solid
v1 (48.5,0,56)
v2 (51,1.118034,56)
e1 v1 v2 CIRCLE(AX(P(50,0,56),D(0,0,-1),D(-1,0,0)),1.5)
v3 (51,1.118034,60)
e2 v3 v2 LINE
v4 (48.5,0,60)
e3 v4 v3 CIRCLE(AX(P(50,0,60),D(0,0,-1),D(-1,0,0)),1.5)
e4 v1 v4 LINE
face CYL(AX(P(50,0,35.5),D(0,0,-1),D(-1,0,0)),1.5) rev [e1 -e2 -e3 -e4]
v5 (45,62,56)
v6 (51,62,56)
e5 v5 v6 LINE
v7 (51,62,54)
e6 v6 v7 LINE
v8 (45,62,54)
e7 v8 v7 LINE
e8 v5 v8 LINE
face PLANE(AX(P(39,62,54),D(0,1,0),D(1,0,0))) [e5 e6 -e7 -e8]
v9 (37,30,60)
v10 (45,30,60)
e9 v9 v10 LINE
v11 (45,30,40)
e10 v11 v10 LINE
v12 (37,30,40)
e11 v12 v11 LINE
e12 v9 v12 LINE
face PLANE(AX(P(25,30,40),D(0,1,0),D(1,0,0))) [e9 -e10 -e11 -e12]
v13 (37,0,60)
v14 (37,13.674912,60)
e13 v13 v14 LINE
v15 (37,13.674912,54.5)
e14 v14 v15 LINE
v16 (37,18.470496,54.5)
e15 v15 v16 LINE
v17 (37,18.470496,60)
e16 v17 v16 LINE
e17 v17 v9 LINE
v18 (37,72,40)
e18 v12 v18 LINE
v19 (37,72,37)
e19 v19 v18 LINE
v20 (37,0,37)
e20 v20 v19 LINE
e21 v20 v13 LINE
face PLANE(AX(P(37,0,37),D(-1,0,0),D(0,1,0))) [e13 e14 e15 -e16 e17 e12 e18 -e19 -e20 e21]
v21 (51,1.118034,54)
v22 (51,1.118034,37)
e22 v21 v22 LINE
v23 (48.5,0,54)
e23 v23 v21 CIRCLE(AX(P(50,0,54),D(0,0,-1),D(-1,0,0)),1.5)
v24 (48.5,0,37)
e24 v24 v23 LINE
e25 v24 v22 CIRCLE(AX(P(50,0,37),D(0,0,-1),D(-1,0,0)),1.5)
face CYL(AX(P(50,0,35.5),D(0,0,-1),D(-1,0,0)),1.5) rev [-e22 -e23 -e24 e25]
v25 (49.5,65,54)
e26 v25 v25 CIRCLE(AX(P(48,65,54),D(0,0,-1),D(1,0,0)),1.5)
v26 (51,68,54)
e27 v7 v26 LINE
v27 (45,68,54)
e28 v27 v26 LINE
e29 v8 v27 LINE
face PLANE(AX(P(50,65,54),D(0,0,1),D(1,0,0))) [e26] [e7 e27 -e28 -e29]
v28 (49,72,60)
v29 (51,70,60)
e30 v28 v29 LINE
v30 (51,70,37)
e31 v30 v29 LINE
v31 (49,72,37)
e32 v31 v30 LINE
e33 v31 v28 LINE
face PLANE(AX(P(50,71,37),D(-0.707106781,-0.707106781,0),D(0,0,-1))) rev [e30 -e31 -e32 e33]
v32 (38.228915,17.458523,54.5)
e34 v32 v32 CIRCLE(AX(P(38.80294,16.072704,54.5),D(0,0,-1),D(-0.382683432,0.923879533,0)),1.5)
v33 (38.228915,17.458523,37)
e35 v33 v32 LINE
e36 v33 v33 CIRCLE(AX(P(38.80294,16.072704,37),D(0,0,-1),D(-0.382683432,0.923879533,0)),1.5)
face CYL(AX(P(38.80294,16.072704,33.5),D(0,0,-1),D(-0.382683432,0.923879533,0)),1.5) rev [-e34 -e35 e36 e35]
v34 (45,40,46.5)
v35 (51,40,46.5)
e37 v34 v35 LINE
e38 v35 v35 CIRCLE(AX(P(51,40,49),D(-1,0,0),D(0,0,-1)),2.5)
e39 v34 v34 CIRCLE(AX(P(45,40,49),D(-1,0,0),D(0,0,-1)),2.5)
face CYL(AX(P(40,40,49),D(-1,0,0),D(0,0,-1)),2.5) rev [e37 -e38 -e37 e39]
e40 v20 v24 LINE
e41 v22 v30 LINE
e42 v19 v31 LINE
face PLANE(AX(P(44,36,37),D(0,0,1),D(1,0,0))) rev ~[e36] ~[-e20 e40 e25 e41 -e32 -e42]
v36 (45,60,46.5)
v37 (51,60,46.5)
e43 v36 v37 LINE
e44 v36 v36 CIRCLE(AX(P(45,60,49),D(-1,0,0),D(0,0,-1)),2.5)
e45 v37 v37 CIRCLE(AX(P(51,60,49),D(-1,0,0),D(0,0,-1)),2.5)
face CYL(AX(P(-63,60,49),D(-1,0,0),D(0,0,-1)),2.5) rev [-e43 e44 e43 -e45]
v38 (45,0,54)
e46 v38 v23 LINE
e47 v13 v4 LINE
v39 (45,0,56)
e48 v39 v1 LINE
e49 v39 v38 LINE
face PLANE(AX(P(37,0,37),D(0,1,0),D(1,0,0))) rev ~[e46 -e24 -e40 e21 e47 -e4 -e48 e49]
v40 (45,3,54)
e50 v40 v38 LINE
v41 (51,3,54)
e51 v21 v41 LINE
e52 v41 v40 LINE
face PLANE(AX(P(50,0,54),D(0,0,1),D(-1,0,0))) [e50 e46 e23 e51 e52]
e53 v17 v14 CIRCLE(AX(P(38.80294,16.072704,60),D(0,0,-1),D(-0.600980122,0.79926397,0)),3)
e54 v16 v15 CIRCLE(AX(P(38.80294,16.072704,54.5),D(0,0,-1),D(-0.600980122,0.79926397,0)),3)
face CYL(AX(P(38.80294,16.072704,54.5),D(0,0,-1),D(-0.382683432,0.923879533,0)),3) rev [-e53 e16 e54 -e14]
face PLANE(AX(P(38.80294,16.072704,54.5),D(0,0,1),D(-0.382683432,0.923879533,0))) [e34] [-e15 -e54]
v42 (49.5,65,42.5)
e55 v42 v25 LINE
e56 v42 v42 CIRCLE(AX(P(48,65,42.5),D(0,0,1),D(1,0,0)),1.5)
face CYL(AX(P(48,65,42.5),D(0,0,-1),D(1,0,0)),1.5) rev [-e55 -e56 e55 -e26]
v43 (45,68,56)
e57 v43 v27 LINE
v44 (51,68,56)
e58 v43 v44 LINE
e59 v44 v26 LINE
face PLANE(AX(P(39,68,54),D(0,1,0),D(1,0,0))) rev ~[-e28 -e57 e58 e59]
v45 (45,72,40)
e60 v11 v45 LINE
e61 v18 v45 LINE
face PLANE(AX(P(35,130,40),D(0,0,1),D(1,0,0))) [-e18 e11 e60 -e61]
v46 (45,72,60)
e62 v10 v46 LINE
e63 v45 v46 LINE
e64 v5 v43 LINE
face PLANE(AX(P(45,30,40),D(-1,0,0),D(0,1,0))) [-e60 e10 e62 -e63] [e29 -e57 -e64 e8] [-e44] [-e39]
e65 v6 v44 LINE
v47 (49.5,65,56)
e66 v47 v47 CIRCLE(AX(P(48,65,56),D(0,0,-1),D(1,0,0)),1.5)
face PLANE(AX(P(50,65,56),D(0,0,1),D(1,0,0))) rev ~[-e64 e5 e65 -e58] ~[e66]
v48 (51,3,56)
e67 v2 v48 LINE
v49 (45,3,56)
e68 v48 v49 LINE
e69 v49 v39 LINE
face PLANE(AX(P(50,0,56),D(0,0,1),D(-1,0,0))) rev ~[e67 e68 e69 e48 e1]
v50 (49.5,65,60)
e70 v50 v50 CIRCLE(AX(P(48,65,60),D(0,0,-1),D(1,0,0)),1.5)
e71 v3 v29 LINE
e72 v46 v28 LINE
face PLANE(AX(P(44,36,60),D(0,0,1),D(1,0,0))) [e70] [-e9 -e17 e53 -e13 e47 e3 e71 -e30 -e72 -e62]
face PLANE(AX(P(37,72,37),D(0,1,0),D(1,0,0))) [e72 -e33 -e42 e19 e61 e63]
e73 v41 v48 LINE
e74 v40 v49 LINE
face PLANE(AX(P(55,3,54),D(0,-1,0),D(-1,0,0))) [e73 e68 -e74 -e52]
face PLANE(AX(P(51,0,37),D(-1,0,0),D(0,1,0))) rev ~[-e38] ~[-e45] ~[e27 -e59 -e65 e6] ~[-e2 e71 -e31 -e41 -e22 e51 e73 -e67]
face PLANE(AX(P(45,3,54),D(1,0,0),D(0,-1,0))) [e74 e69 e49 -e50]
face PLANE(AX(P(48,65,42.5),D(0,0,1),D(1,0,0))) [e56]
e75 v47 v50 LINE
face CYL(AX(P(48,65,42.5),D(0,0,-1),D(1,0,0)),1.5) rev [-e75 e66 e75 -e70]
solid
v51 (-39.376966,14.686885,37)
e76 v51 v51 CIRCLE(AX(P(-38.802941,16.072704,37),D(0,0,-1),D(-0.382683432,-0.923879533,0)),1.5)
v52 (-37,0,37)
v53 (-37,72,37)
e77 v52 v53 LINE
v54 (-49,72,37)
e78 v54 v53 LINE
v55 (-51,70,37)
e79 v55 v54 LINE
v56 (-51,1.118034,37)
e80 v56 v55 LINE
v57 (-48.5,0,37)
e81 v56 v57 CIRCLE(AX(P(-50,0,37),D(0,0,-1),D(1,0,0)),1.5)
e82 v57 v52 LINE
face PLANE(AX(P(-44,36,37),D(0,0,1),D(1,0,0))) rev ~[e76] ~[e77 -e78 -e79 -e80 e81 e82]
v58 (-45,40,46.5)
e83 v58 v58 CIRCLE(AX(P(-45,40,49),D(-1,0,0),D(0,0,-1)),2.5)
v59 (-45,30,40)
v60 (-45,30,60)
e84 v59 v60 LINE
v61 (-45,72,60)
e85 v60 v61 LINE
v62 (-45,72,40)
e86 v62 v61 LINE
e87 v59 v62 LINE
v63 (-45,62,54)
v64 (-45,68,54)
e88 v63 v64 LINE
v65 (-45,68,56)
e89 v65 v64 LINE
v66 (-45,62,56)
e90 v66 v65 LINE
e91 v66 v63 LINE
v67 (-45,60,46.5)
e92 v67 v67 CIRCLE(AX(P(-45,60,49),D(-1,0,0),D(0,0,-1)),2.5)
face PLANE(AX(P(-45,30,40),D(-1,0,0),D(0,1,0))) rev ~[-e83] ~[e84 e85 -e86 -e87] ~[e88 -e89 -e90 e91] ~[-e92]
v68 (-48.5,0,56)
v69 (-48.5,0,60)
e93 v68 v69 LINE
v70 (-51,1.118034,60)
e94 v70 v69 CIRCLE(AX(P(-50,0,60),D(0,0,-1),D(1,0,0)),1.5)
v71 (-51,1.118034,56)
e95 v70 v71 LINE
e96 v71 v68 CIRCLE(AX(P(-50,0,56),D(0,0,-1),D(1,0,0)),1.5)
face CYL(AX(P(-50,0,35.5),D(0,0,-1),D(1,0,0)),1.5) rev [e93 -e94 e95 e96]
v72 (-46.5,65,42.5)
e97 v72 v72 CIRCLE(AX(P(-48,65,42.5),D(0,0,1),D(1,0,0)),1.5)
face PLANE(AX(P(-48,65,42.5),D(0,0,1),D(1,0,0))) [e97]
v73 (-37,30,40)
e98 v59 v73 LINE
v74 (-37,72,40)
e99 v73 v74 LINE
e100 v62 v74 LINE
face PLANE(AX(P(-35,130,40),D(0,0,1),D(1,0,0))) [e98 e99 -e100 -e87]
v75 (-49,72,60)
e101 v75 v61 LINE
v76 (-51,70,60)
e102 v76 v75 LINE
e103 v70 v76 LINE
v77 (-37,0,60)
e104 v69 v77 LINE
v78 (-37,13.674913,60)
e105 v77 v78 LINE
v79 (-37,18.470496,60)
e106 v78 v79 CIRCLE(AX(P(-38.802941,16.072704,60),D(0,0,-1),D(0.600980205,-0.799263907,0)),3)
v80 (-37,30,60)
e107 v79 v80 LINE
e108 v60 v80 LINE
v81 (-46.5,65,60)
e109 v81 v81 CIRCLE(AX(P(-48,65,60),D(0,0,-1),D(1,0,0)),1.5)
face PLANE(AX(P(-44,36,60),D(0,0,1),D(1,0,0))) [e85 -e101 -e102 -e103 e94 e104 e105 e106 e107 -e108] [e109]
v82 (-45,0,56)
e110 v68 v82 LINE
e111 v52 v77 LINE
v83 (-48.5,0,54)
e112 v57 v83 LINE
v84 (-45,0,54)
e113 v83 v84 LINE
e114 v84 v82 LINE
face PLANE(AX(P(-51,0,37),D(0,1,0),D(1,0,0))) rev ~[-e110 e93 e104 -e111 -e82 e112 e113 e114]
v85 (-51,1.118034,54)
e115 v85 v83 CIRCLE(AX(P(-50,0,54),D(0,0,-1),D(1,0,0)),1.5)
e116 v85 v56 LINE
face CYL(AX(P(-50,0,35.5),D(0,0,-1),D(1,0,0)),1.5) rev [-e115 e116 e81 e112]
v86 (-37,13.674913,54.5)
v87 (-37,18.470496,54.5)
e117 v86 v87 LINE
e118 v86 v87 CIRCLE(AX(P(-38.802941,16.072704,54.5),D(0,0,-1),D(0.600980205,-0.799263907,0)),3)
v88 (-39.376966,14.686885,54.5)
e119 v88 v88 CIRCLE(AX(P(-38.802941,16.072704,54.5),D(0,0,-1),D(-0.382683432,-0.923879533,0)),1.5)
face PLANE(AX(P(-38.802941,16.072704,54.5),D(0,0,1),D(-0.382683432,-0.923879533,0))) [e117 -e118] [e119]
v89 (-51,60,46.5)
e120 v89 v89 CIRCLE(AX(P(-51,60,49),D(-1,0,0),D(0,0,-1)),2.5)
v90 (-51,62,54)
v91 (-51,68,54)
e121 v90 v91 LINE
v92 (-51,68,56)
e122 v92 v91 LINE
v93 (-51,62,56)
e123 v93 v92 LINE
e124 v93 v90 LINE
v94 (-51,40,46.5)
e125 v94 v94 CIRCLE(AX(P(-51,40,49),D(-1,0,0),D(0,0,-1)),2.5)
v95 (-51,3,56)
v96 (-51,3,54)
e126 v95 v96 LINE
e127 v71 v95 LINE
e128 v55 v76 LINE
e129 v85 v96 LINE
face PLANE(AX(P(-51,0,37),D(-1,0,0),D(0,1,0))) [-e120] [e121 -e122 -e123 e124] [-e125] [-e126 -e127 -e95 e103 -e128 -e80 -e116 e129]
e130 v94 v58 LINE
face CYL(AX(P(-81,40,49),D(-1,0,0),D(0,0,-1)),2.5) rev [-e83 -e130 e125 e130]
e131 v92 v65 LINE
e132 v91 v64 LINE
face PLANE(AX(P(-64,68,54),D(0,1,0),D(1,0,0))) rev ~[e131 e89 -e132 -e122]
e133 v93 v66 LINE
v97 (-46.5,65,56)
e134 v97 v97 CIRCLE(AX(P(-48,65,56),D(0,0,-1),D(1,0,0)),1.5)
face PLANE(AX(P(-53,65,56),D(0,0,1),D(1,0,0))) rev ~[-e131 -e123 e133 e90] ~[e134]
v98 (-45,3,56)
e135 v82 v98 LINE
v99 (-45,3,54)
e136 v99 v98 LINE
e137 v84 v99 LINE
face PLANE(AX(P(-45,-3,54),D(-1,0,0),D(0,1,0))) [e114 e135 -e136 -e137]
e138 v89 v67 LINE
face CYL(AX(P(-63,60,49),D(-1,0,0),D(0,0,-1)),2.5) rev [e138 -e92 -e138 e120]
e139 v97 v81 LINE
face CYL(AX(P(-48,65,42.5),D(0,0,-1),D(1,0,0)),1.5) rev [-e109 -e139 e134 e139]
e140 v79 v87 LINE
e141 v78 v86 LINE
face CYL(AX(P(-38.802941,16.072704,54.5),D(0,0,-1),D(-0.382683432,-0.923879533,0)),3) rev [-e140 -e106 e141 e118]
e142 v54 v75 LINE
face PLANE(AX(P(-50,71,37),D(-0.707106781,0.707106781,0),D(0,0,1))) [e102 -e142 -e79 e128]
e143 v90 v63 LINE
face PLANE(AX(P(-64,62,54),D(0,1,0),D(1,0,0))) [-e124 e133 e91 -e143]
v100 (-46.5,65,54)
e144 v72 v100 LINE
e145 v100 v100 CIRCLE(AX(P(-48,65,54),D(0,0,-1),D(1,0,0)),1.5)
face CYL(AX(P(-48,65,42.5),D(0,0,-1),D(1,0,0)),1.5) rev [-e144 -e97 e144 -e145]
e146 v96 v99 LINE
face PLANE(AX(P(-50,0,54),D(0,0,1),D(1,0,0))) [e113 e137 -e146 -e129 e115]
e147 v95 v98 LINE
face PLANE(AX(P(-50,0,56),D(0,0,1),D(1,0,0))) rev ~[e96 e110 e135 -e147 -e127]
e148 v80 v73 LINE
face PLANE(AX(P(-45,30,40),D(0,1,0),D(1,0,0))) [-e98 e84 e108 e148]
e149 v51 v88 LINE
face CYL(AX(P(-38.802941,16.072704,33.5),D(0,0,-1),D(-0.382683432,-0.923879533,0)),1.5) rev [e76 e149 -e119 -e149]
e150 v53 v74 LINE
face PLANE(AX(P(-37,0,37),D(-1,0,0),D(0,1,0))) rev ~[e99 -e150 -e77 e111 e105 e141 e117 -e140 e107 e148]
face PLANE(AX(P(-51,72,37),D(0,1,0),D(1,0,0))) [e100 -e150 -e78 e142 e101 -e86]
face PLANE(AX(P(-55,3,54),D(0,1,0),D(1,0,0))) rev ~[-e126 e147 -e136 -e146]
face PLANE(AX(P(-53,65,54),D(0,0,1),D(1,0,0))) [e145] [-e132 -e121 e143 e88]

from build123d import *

# Parameters (mm, degrees)
BOX456_W                    = 10
BOX456_H                    = 6
BOX456_DEPTH                = 2
BOX455_W                    = 10
BOX455_H                    = 6
BOX455_DEPTH                = 2
BOX453_W                    = 10
BOX453_H                    = 6
BOX453_DEPTH                = 2
BOX454_W                    = 10
BOX454_H                    = 6
BOX454_DEPTH                = 2
CYLINDER958_R               = 1.5
CYLINDER958_DEPTH           = 30
CYLINDER955_R               = 1.5
CYLINDER955_DEPTH           = 30
CYLINDER957_R               = 1.5
CYLINDER957_DEPTH           = 30
CYLINDER956_R               = 1.5
CYLINDER956_DEPTH           = 30
CYLINDER911_R               = 1.5
CYLINDER911_DEPTH           = 40
CYLINDER911_PLACEMENT_ANGLE = 45
CYLINDER912_R               = 1.5
CYLINDER912_DEPTH           = 40
CYLINDER913_R               = 1.5
CYLINDER913_DEPTH           = 40
CYLINDER913_PLACEMENT_ANGLE = 135
CYLINDER908_R               = 1.5
CYLINDER908_DEPTH           = 40
CYLINDER914_R               = 1.5
CYLINDER914_DEPTH           = 40
CYLINDER914_PLACEMENT_ANGLE = 225
CYLINDER910_R               = 1.5
CYLINDER910_DEPTH           = 40
CYLINDER909_R               = 1.5
CYLINDER909_DEPTH           = 40
CYLINDER909_PLACEMENT_ANGLE = 45
CYLINDER907_R               = 1.5
CYLINDER907_DEPTH           = 40
COMPOUND797_PLACEMENT_ANGLE = 22.5
CYLINDER919_R               = 3
CYLINDER919_DEPTH           = 6
CYLINDER919_PLACEMENT_ANGLE = 45
CYLINDER920_R               = 3
CYLINDER920_DEPTH           = 6
CYLINDER921_R               = 3
CYLINDER921_DEPTH           = 6
CYLINDER921_PLACEMENT_ANGLE = 135
CYLINDER916_R               = 3
CYLINDER916_DEPTH           = 6
CYLINDER922_R               = 3
CYLINDER922_DEPTH           = 6
CYLINDER922_PLACEMENT_ANGLE = 225
CYLINDER918_R               = 3
CYLINDER918_DEPTH           = 6
CYLINDER917_R               = 3
CYLINDER917_DEPTH           = 6
CYLINDER917_PLACEMENT_ANGLE = 45
CYLINDER915_R               = 3
CYLINDER915_DEPTH           = 6
COMPOUND796_PLACEMENT_ANGLE = 22.5
BOX450_W                    = 22
BOX450_H                    = 6
BOX450_DEPTH                = 2
BOX449_W                    = 22
BOX449_H                    = 6
BOX449_DEPTH                = 2
BOX443_W                    = 20
BOX443_H                    = 200
BOX443_DEPTH                = 20
BOX444_W                    = 20
BOX444_H                    = 200
BOX444_DEPTH                = 20
CYLINDER949_R               = 1.5
CYLINDER949_DEPTH           = 30
CYLINDER948_R               = 1.5
CYLINDER948_DEPTH           = 30
CYLINDER951_R               = 2.5
CYLINDER951_DEPTH           = 40
CYLINDER952_R               = 2.5
CYLINDER952_DEPTH           = 30
CYLINDER950_R               = 2.5
CYLINDER950_DEPTH           = 160
BOX442_W                    = 14
BOX442_H                    = 72
BOX442_DEPTH                = 23
BOX441_W                    = 14
BOX441_H                    = 72
BOX441_DEPTH                = 23
CHAMFER024_SIZE             = 2


with BuildPart() as krychle456:
    # Box456 → Box456 (new body)
    with BuildSketch(Plane(origin=(55, 3, 54), x_dir=(-1, 0, 0), z_dir=(0, 0, 1))):
        with Locations((5, 3)):
            Rectangle(BOX456_W, BOX456_H)
    extrude(amount=BOX456_DEPTH)


with BuildPart() as krychle455:
    # Box455 → Box455 (new body)
    with BuildSketch(Plane(origin=(3, -55, 54), x_dir=(0, 1, 0), z_dir=(0, 0, 1))):
        with Locations((5, 3)):
            Rectangle(BOX455_W, BOX455_H)
    extrude(amount=BOX455_DEPTH)


with BuildPart() as krychle453:
    # Box453 → Box453 (new body)
    with BuildSketch(Plane(origin=(-55, -3, 54), x_dir=(1, 0, 0), z_dir=(0, 0, 1))):
        with Locations((5, 3)):
            Rectangle(BOX453_W, BOX453_H)
    extrude(amount=BOX453_DEPTH)


with BuildPart() as compound813:
    # Box454 → Box454 (new body)
    with BuildSketch(Plane(origin=(-3, 55, 54), x_dir=(0, -1, 0), z_dir=(0, 0, 1))):
        with Locations((5, 3)):
            Rectangle(BOX454_W, BOX454_H)
    extrude(amount=BOX454_DEPTH)

    # Compound813: union Krychle456, Krychle455, Krychle453
    add(krychle456.part)
    add(krychle455.part)
    add(krychle453.part)


with BuildPart() as v_lec958:
    # Cylinder958 → Cylinder958 (new body)
    with BuildSketch(Plane(origin=(50, 0, 35.5), x_dir=(-1, 0, 0), z_dir=(0, 0, 1))):
        Circle(CYLINDER958_R)
    extrude(amount=CYLINDER958_DEPTH)


with BuildPart() as v_lec955:
    # Cylinder955 → Cylinder955 (new body)
    with BuildSketch(Plane(origin=(0, -50, 35.5), x_dir=(0, 1, 0), z_dir=(0, 0, 1))):
        Circle(CYLINDER955_R)
    extrude(amount=CYLINDER955_DEPTH)


with BuildPart() as v_lec957:
    # Cylinder957 → Cylinder957 (new body)
    with BuildSketch(Plane(origin=(-50, 0, 35.5), x_dir=(1, 0, 0), z_dir=(0, 0, 1))):
        Circle(CYLINDER957_R)
    extrude(amount=CYLINDER957_DEPTH)


with BuildPart() as compound812:
    # Cylinder956 → Cylinder956 (new body)
    with BuildSketch(Plane(origin=(0, 50, 35.5), x_dir=(0, -1, 0), z_dir=(0, 0, 1))):
        Circle(CYLINDER956_R)
    extrude(amount=CYLINDER956_DEPTH)

    # Compound812: union Válec958, Válec955, Válec957
    add(v_lec958.part)
    add(v_lec955.part)
    add(v_lec957.part)


with BuildPart() as v_lec911:
    # Cylinder911 → Cylinder911 (new body)
    with BuildSketch(Plane.XY):
        Circle(CYLINDER911_R)
    extrude(amount=CYLINDER911_DEPTH)


with BuildPart() as v_lec911_1:
    # Cylinder911 placement: moved
    add(v_lec911.part.moved(Location((29.698485, -29.698485, 33.5))).rotate(Axis((29.698485, -29.698485, 33.5), (0, 0, 1)), CYLINDER911_PLACEMENT_ANGLE))


with BuildPart() as v_lec912:
    # Cylinder912 → Cylinder912 (new body)
    with BuildSketch(Plane(origin=(42, 0, 33.5), x_dir=(0, 1, 0), z_dir=(0, 0, 1))):
        Circle(CYLINDER912_R)
    extrude(amount=CYLINDER912_DEPTH)


with BuildPart() as v_lec913:
    # Cylinder913 → Cylinder913 (new body)
    with BuildSketch(Plane.XY):
        Circle(CYLINDER913_R)
    extrude(amount=CYLINDER913_DEPTH)


with BuildPart() as v_lec913_1:
    # Cylinder913 placement: moved
    add(v_lec913.part.moved(Location((29.698485, 29.698485, 33.5))).rotate(Axis((29.698485, 29.698485, 33.5), (0, 0, 1)), CYLINDER913_PLACEMENT_ANGLE))


with BuildPart() as v_lec908:
    # Cylinder908 → Cylinder908 (new body)
    with BuildSketch(Plane(origin=(0, 42, 33.5), x_dir=(-1, 0, 0), z_dir=(0, 0, 1))):
        Circle(CYLINDER908_R)
    extrude(amount=CYLINDER908_DEPTH)


with BuildPart() as v_lec914:
    # Cylinder914 → Cylinder914 (new body)
    with BuildSketch(Plane.XY):
        Circle(CYLINDER914_R)
    extrude(amount=CYLINDER914_DEPTH)


with BuildPart() as v_lec914_1:
    # Cylinder914 placement: moved
    add(v_lec914.part.moved(Location((-29.698485, 29.698485, 33.5))).rotate(Axis((-29.698485, 29.698485, 33.5), (0, 0, 1)), CYLINDER914_PLACEMENT_ANGLE))


with BuildPart() as v_lec910:
    # Cylinder910 → Cylinder910 (new body)
    with BuildSketch(Plane(origin=(-42, 0, 33.5), x_dir=(0, -1, 0), z_dir=(0, 0, 1))):
        Circle(CYLINDER910_R)
    extrude(amount=CYLINDER910_DEPTH)


with BuildPart() as v_lec909:
    # Cylinder909 → Cylinder909 (new body)
    with BuildSketch(Plane.XY):
        Circle(CYLINDER909_R)
    extrude(amount=CYLINDER909_DEPTH)


with BuildPart() as v_lec909_1:
    # Cylinder909 placement: moved
    add(v_lec909.part.moved(Location((-29.698485, -29.698485, 33.5))).rotate(Axis((-29.698485, -29.698485, 33.5), (0, 0, -1)), CYLINDER909_PLACEMENT_ANGLE))


with BuildPart() as compound797:
    # Cylinder907 → Cylinder907 (new body)
    with BuildSketch(Plane(origin=(0, -42, 33.5), x_dir=(1, 0, 0), z_dir=(0, 0, 1))):
        Circle(CYLINDER907_R)
    extrude(amount=CYLINDER907_DEPTH)

    # Compound797: union Válec911, Válec912, Válec913, Válec908, Válec914, Válec910, Válec909
    add(v_lec911_1.part)
    add(v_lec912.part)
    add(v_lec913_1.part)
    add(v_lec908.part)
    add(v_lec914_1.part)
    add(v_lec910.part)
    add(v_lec909_1.part)


with BuildPart() as compound797_1:
    # Compound797 placement: moved
    add(compound797.part.rotate(Axis((0, 0, 0), (0, 0, 1)), COMPOUND797_PLACEMENT_ANGLE))


with BuildPart() as v_lec919:
    # Cylinder919 → Cylinder919 (new body)
    with BuildSketch(Plane.XY):
        Circle(CYLINDER919_R)
    extrude(amount=CYLINDER919_DEPTH)


with BuildPart() as v_lec919_1:
    # Cylinder919 placement: moved
    add(v_lec919.part.moved(Location((29.698485, -29.698485, 33.5))).rotate(Axis((29.698485, -29.698485, 33.5), (0, 0, 1)), CYLINDER919_PLACEMENT_ANGLE))


with BuildPart() as v_lec920:
    # Cylinder920 → Cylinder920 (new body)
    with BuildSketch(Plane(origin=(42, 0, 33.5), x_dir=(0, 1, 0), z_dir=(0, 0, 1))):
        Circle(CYLINDER920_R)
    extrude(amount=CYLINDER920_DEPTH)


with BuildPart() as v_lec921:
    # Cylinder921 → Cylinder921 (new body)
    with BuildSketch(Plane.XY):
        Circle(CYLINDER921_R)
    extrude(amount=CYLINDER921_DEPTH)


with BuildPart() as v_lec921_1:
    # Cylinder921 placement: moved
    add(v_lec921.part.moved(Location((29.698485, 29.698485, 33.5))).rotate(Axis((29.698485, 29.698485, 33.5), (0, 0, 1)), CYLINDER921_PLACEMENT_ANGLE))


with BuildPart() as v_lec916:
    # Cylinder916 → Cylinder916 (new body)
    with BuildSketch(Plane(origin=(0, 42, 33.5), x_dir=(-1, 0, 0), z_dir=(0, 0, 1))):
        Circle(CYLINDER916_R)
    extrude(amount=CYLINDER916_DEPTH)


with BuildPart() as v_lec922:
    # Cylinder922 → Cylinder922 (new body)
    with BuildSketch(Plane.XY):
        Circle(CYLINDER922_R)
    extrude(amount=CYLINDER922_DEPTH)


with BuildPart() as v_lec922_1:
    # Cylinder922 placement: moved
    add(v_lec922.part.moved(Location((-29.698485, 29.698485, 33.5))).rotate(Axis((-29.698485, 29.698485, 33.5), (0, 0, 1)), CYLINDER922_PLACEMENT_ANGLE))


with BuildPart() as v_lec918:
    # Cylinder918 → Cylinder918 (new body)
    with BuildSketch(Plane(origin=(-42, 0, 33.5), x_dir=(0, -1, 0), z_dir=(0, 0, 1))):
        Circle(CYLINDER918_R)
    extrude(amount=CYLINDER918_DEPTH)


with BuildPart() as v_lec917:
    # Cylinder917 → Cylinder917 (new body)
    with BuildSketch(Plane.XY):
        Circle(CYLINDER917_R)
    extrude(amount=CYLINDER917_DEPTH)


with BuildPart() as v_lec917_1:
    # Cylinder917 placement: moved
    add(v_lec917.part.moved(Location((-29.698485, -29.698485, 33.5))).rotate(Axis((-29.698485, -29.698485, 33.5), (0, 0, -1)), CYLINDER917_PLACEMENT_ANGLE))


with BuildPart() as compound796:
    # Cylinder915 → Cylinder915 (new body)
    with BuildSketch(Plane(origin=(0, -42, 33.5), x_dir=(1, 0, 0), z_dir=(0, 0, 1))):
        Circle(CYLINDER915_R)
    extrude(amount=CYLINDER915_DEPTH)

    # Compound796: union Válec919, Válec920, Válec921, Válec916, Válec922, Válec918, Válec917
    add(v_lec919_1.part)
    add(v_lec920.part)
    add(v_lec921_1.part)
    add(v_lec916.part)
    add(v_lec922_1.part)
    add(v_lec918.part)
    add(v_lec917_1.part)


with BuildPart() as compound796_1:
    # Compound796 placement: moved
    add(compound796.part.moved(Location((0, 0, 21))).rotate(Axis((0, 0, 21), (0, 0, 1)), COMPOUND796_PLACEMENT_ANGLE))


with BuildPart() as krychle450:
    # Box450 → Box450 (new body)
    with BuildSketch(Plane(origin=(39, 62, 54), x_dir=(1, 0, 0), z_dir=(0, 0, 1))):
        with Locations((11, 3)):
            Rectangle(BOX450_W, BOX450_H)
    extrude(amount=BOX450_DEPTH)


with BuildPart() as compound811:
    # Box449 → Box449 (new body)
    with BuildSketch(Plane(origin=(-64, 62, 54), x_dir=(1, 0, 0), z_dir=(0, 0, 1))):
        with Locations((11, 3)):
            Rectangle(BOX449_W, BOX449_H)
    extrude(amount=BOX449_DEPTH)

    # Compound811: union Krychle450
    add(krychle450.part)


with BuildPart() as krychle443:
    # Box443 → Box443 (new body)
    with BuildSketch(Plane(origin=(-45, 28, 8), x_dir=(1, 0, 0), z_dir=(0, 0, 1))):
        with Locations((10, 100)):
            Rectangle(BOX443_W, BOX443_H)
    extrude(amount=BOX443_DEPTH)


with BuildPart() as compound808:
    # Box444 → Box444 (new body)
    with BuildSketch(Plane(origin=(25, 28, 8), x_dir=(1, 0, 0), z_dir=(0, 0, 1))):
        with Locations((10, 100)):
            Rectangle(BOX444_W, BOX444_H)
    extrude(amount=BOX444_DEPTH)

    # Compound808: union Krychle443
    add(krychle443.part)


with BuildPart() as compound808_1:
    # Compound808 placement: moved
    add(compound808.part.moved(Location((0, 2, 32))))


with BuildPart() as v_lec949:
    # Cylinder949 → Cylinder949 (new body)
    with BuildSketch(Plane(origin=(-48, 65, 42.5), x_dir=(1, 0, 0), z_dir=(0, 0, 1))):
        Circle(CYLINDER949_R)
    extrude(amount=CYLINDER949_DEPTH)


with BuildPart() as compound805:
    # Cylinder948 → Cylinder948 (new body)
    with BuildSketch(Plane(origin=(48, 65, 42.5), x_dir=(1, 0, 0), z_dir=(0, 0, 1))):
        Circle(CYLINDER948_R)
    extrude(amount=CYLINDER948_DEPTH)

    # Compound805: union Válec949
    add(v_lec949.part)


with BuildPart() as v_lec951:
    # Cylinder951 → Cylinder951 (new body)
    with BuildSketch(Plane(origin=(-80, 38, 18), x_dir=(0, 0, -1), z_dir=(1, 0, 0))):
        Circle(CYLINDER951_R)
    extrude(amount=CYLINDER951_DEPTH)


with BuildPart() as v_lec952:
    # Cylinder952 → Cylinder952 (new body)
    with BuildSketch(Plane(origin=(41, 38, 18), x_dir=(0, 0, -1), z_dir=(1, 0, 0))):
        Circle(CYLINDER952_R)
    extrude(amount=CYLINDER952_DEPTH)


with BuildPart() as compound806:
    # Cylinder950 → Cylinder950 (new body)
    with BuildSketch(Plane(origin=(-62, 58, 18), x_dir=(0, 0, -1), z_dir=(1, 0, 0))):
        Circle(CYLINDER950_R)
    extrude(amount=CYLINDER950_DEPTH)

    # Compound806: union Válec951, Válec952
    add(v_lec951.part)
    add(v_lec952.part)


with BuildPart() as compound806_1:
    # Compound806 placement: moved
    add(compound806.part.moved(Location((-1, 2, 31))))


with BuildPart() as krychle442:
    # Box442 → Box442 (new body)
    with BuildSketch(Plane(origin=(-51, 0, 37), x_dir=(1, 0, 0), z_dir=(0, 0, 1))):
        with Locations((7, 36)):
            Rectangle(BOX442_W, BOX442_H)
    extrude(amount=BOX442_DEPTH)


with BuildPart() as chamfer024:
    # Box441 → Box441 (new body)
    with BuildSketch(Plane(origin=(37, 0, 37), x_dir=(1, 0, 0), z_dir=(0, 0, 1))):
        with Locations((7, 36)):
            Rectangle(BOX441_W, BOX441_H)
    extrude(amount=BOX441_DEPTH)

    # Compound807: union Krychle442
    add(krychle442.part)

    # Cut398: cut Compound806
    add(compound806_1.part, mode=Mode.SUBTRACT)

    # Cut397: cut Compound805
    add(compound805.part, mode=Mode.SUBTRACT)

    # Cut399: cut Compound808
    add(compound808_1.part, mode=Mode.SUBTRACT)

    # Cut401: cut Compound811
    add(compound811.part, mode=Mode.SUBTRACT)

    # Cut402: cut Compound796
    add(compound796_1.part, mode=Mode.SUBTRACT)

    # Cut403: cut Compound797
    add(compound797_1.part, mode=Mode.SUBTRACT)

    # Cut410: cut Compound812
    add(compound812.part, mode=Mode.SUBTRACT)

    # Cut411: cut Compound813
    add(compound813.part, mode=Mode.SUBTRACT)

    # Chamfer024
    chamfer024_edges = [chamfer024.edges().sort_by_distance(p)[0] for p in [
        (51, 72, 48.5),
        (-51, 72, 48.5),
    ]]
    chamfer(chamfer024_edges, length=CHAMFER024_SIZE)


solid = chamfer024.part
